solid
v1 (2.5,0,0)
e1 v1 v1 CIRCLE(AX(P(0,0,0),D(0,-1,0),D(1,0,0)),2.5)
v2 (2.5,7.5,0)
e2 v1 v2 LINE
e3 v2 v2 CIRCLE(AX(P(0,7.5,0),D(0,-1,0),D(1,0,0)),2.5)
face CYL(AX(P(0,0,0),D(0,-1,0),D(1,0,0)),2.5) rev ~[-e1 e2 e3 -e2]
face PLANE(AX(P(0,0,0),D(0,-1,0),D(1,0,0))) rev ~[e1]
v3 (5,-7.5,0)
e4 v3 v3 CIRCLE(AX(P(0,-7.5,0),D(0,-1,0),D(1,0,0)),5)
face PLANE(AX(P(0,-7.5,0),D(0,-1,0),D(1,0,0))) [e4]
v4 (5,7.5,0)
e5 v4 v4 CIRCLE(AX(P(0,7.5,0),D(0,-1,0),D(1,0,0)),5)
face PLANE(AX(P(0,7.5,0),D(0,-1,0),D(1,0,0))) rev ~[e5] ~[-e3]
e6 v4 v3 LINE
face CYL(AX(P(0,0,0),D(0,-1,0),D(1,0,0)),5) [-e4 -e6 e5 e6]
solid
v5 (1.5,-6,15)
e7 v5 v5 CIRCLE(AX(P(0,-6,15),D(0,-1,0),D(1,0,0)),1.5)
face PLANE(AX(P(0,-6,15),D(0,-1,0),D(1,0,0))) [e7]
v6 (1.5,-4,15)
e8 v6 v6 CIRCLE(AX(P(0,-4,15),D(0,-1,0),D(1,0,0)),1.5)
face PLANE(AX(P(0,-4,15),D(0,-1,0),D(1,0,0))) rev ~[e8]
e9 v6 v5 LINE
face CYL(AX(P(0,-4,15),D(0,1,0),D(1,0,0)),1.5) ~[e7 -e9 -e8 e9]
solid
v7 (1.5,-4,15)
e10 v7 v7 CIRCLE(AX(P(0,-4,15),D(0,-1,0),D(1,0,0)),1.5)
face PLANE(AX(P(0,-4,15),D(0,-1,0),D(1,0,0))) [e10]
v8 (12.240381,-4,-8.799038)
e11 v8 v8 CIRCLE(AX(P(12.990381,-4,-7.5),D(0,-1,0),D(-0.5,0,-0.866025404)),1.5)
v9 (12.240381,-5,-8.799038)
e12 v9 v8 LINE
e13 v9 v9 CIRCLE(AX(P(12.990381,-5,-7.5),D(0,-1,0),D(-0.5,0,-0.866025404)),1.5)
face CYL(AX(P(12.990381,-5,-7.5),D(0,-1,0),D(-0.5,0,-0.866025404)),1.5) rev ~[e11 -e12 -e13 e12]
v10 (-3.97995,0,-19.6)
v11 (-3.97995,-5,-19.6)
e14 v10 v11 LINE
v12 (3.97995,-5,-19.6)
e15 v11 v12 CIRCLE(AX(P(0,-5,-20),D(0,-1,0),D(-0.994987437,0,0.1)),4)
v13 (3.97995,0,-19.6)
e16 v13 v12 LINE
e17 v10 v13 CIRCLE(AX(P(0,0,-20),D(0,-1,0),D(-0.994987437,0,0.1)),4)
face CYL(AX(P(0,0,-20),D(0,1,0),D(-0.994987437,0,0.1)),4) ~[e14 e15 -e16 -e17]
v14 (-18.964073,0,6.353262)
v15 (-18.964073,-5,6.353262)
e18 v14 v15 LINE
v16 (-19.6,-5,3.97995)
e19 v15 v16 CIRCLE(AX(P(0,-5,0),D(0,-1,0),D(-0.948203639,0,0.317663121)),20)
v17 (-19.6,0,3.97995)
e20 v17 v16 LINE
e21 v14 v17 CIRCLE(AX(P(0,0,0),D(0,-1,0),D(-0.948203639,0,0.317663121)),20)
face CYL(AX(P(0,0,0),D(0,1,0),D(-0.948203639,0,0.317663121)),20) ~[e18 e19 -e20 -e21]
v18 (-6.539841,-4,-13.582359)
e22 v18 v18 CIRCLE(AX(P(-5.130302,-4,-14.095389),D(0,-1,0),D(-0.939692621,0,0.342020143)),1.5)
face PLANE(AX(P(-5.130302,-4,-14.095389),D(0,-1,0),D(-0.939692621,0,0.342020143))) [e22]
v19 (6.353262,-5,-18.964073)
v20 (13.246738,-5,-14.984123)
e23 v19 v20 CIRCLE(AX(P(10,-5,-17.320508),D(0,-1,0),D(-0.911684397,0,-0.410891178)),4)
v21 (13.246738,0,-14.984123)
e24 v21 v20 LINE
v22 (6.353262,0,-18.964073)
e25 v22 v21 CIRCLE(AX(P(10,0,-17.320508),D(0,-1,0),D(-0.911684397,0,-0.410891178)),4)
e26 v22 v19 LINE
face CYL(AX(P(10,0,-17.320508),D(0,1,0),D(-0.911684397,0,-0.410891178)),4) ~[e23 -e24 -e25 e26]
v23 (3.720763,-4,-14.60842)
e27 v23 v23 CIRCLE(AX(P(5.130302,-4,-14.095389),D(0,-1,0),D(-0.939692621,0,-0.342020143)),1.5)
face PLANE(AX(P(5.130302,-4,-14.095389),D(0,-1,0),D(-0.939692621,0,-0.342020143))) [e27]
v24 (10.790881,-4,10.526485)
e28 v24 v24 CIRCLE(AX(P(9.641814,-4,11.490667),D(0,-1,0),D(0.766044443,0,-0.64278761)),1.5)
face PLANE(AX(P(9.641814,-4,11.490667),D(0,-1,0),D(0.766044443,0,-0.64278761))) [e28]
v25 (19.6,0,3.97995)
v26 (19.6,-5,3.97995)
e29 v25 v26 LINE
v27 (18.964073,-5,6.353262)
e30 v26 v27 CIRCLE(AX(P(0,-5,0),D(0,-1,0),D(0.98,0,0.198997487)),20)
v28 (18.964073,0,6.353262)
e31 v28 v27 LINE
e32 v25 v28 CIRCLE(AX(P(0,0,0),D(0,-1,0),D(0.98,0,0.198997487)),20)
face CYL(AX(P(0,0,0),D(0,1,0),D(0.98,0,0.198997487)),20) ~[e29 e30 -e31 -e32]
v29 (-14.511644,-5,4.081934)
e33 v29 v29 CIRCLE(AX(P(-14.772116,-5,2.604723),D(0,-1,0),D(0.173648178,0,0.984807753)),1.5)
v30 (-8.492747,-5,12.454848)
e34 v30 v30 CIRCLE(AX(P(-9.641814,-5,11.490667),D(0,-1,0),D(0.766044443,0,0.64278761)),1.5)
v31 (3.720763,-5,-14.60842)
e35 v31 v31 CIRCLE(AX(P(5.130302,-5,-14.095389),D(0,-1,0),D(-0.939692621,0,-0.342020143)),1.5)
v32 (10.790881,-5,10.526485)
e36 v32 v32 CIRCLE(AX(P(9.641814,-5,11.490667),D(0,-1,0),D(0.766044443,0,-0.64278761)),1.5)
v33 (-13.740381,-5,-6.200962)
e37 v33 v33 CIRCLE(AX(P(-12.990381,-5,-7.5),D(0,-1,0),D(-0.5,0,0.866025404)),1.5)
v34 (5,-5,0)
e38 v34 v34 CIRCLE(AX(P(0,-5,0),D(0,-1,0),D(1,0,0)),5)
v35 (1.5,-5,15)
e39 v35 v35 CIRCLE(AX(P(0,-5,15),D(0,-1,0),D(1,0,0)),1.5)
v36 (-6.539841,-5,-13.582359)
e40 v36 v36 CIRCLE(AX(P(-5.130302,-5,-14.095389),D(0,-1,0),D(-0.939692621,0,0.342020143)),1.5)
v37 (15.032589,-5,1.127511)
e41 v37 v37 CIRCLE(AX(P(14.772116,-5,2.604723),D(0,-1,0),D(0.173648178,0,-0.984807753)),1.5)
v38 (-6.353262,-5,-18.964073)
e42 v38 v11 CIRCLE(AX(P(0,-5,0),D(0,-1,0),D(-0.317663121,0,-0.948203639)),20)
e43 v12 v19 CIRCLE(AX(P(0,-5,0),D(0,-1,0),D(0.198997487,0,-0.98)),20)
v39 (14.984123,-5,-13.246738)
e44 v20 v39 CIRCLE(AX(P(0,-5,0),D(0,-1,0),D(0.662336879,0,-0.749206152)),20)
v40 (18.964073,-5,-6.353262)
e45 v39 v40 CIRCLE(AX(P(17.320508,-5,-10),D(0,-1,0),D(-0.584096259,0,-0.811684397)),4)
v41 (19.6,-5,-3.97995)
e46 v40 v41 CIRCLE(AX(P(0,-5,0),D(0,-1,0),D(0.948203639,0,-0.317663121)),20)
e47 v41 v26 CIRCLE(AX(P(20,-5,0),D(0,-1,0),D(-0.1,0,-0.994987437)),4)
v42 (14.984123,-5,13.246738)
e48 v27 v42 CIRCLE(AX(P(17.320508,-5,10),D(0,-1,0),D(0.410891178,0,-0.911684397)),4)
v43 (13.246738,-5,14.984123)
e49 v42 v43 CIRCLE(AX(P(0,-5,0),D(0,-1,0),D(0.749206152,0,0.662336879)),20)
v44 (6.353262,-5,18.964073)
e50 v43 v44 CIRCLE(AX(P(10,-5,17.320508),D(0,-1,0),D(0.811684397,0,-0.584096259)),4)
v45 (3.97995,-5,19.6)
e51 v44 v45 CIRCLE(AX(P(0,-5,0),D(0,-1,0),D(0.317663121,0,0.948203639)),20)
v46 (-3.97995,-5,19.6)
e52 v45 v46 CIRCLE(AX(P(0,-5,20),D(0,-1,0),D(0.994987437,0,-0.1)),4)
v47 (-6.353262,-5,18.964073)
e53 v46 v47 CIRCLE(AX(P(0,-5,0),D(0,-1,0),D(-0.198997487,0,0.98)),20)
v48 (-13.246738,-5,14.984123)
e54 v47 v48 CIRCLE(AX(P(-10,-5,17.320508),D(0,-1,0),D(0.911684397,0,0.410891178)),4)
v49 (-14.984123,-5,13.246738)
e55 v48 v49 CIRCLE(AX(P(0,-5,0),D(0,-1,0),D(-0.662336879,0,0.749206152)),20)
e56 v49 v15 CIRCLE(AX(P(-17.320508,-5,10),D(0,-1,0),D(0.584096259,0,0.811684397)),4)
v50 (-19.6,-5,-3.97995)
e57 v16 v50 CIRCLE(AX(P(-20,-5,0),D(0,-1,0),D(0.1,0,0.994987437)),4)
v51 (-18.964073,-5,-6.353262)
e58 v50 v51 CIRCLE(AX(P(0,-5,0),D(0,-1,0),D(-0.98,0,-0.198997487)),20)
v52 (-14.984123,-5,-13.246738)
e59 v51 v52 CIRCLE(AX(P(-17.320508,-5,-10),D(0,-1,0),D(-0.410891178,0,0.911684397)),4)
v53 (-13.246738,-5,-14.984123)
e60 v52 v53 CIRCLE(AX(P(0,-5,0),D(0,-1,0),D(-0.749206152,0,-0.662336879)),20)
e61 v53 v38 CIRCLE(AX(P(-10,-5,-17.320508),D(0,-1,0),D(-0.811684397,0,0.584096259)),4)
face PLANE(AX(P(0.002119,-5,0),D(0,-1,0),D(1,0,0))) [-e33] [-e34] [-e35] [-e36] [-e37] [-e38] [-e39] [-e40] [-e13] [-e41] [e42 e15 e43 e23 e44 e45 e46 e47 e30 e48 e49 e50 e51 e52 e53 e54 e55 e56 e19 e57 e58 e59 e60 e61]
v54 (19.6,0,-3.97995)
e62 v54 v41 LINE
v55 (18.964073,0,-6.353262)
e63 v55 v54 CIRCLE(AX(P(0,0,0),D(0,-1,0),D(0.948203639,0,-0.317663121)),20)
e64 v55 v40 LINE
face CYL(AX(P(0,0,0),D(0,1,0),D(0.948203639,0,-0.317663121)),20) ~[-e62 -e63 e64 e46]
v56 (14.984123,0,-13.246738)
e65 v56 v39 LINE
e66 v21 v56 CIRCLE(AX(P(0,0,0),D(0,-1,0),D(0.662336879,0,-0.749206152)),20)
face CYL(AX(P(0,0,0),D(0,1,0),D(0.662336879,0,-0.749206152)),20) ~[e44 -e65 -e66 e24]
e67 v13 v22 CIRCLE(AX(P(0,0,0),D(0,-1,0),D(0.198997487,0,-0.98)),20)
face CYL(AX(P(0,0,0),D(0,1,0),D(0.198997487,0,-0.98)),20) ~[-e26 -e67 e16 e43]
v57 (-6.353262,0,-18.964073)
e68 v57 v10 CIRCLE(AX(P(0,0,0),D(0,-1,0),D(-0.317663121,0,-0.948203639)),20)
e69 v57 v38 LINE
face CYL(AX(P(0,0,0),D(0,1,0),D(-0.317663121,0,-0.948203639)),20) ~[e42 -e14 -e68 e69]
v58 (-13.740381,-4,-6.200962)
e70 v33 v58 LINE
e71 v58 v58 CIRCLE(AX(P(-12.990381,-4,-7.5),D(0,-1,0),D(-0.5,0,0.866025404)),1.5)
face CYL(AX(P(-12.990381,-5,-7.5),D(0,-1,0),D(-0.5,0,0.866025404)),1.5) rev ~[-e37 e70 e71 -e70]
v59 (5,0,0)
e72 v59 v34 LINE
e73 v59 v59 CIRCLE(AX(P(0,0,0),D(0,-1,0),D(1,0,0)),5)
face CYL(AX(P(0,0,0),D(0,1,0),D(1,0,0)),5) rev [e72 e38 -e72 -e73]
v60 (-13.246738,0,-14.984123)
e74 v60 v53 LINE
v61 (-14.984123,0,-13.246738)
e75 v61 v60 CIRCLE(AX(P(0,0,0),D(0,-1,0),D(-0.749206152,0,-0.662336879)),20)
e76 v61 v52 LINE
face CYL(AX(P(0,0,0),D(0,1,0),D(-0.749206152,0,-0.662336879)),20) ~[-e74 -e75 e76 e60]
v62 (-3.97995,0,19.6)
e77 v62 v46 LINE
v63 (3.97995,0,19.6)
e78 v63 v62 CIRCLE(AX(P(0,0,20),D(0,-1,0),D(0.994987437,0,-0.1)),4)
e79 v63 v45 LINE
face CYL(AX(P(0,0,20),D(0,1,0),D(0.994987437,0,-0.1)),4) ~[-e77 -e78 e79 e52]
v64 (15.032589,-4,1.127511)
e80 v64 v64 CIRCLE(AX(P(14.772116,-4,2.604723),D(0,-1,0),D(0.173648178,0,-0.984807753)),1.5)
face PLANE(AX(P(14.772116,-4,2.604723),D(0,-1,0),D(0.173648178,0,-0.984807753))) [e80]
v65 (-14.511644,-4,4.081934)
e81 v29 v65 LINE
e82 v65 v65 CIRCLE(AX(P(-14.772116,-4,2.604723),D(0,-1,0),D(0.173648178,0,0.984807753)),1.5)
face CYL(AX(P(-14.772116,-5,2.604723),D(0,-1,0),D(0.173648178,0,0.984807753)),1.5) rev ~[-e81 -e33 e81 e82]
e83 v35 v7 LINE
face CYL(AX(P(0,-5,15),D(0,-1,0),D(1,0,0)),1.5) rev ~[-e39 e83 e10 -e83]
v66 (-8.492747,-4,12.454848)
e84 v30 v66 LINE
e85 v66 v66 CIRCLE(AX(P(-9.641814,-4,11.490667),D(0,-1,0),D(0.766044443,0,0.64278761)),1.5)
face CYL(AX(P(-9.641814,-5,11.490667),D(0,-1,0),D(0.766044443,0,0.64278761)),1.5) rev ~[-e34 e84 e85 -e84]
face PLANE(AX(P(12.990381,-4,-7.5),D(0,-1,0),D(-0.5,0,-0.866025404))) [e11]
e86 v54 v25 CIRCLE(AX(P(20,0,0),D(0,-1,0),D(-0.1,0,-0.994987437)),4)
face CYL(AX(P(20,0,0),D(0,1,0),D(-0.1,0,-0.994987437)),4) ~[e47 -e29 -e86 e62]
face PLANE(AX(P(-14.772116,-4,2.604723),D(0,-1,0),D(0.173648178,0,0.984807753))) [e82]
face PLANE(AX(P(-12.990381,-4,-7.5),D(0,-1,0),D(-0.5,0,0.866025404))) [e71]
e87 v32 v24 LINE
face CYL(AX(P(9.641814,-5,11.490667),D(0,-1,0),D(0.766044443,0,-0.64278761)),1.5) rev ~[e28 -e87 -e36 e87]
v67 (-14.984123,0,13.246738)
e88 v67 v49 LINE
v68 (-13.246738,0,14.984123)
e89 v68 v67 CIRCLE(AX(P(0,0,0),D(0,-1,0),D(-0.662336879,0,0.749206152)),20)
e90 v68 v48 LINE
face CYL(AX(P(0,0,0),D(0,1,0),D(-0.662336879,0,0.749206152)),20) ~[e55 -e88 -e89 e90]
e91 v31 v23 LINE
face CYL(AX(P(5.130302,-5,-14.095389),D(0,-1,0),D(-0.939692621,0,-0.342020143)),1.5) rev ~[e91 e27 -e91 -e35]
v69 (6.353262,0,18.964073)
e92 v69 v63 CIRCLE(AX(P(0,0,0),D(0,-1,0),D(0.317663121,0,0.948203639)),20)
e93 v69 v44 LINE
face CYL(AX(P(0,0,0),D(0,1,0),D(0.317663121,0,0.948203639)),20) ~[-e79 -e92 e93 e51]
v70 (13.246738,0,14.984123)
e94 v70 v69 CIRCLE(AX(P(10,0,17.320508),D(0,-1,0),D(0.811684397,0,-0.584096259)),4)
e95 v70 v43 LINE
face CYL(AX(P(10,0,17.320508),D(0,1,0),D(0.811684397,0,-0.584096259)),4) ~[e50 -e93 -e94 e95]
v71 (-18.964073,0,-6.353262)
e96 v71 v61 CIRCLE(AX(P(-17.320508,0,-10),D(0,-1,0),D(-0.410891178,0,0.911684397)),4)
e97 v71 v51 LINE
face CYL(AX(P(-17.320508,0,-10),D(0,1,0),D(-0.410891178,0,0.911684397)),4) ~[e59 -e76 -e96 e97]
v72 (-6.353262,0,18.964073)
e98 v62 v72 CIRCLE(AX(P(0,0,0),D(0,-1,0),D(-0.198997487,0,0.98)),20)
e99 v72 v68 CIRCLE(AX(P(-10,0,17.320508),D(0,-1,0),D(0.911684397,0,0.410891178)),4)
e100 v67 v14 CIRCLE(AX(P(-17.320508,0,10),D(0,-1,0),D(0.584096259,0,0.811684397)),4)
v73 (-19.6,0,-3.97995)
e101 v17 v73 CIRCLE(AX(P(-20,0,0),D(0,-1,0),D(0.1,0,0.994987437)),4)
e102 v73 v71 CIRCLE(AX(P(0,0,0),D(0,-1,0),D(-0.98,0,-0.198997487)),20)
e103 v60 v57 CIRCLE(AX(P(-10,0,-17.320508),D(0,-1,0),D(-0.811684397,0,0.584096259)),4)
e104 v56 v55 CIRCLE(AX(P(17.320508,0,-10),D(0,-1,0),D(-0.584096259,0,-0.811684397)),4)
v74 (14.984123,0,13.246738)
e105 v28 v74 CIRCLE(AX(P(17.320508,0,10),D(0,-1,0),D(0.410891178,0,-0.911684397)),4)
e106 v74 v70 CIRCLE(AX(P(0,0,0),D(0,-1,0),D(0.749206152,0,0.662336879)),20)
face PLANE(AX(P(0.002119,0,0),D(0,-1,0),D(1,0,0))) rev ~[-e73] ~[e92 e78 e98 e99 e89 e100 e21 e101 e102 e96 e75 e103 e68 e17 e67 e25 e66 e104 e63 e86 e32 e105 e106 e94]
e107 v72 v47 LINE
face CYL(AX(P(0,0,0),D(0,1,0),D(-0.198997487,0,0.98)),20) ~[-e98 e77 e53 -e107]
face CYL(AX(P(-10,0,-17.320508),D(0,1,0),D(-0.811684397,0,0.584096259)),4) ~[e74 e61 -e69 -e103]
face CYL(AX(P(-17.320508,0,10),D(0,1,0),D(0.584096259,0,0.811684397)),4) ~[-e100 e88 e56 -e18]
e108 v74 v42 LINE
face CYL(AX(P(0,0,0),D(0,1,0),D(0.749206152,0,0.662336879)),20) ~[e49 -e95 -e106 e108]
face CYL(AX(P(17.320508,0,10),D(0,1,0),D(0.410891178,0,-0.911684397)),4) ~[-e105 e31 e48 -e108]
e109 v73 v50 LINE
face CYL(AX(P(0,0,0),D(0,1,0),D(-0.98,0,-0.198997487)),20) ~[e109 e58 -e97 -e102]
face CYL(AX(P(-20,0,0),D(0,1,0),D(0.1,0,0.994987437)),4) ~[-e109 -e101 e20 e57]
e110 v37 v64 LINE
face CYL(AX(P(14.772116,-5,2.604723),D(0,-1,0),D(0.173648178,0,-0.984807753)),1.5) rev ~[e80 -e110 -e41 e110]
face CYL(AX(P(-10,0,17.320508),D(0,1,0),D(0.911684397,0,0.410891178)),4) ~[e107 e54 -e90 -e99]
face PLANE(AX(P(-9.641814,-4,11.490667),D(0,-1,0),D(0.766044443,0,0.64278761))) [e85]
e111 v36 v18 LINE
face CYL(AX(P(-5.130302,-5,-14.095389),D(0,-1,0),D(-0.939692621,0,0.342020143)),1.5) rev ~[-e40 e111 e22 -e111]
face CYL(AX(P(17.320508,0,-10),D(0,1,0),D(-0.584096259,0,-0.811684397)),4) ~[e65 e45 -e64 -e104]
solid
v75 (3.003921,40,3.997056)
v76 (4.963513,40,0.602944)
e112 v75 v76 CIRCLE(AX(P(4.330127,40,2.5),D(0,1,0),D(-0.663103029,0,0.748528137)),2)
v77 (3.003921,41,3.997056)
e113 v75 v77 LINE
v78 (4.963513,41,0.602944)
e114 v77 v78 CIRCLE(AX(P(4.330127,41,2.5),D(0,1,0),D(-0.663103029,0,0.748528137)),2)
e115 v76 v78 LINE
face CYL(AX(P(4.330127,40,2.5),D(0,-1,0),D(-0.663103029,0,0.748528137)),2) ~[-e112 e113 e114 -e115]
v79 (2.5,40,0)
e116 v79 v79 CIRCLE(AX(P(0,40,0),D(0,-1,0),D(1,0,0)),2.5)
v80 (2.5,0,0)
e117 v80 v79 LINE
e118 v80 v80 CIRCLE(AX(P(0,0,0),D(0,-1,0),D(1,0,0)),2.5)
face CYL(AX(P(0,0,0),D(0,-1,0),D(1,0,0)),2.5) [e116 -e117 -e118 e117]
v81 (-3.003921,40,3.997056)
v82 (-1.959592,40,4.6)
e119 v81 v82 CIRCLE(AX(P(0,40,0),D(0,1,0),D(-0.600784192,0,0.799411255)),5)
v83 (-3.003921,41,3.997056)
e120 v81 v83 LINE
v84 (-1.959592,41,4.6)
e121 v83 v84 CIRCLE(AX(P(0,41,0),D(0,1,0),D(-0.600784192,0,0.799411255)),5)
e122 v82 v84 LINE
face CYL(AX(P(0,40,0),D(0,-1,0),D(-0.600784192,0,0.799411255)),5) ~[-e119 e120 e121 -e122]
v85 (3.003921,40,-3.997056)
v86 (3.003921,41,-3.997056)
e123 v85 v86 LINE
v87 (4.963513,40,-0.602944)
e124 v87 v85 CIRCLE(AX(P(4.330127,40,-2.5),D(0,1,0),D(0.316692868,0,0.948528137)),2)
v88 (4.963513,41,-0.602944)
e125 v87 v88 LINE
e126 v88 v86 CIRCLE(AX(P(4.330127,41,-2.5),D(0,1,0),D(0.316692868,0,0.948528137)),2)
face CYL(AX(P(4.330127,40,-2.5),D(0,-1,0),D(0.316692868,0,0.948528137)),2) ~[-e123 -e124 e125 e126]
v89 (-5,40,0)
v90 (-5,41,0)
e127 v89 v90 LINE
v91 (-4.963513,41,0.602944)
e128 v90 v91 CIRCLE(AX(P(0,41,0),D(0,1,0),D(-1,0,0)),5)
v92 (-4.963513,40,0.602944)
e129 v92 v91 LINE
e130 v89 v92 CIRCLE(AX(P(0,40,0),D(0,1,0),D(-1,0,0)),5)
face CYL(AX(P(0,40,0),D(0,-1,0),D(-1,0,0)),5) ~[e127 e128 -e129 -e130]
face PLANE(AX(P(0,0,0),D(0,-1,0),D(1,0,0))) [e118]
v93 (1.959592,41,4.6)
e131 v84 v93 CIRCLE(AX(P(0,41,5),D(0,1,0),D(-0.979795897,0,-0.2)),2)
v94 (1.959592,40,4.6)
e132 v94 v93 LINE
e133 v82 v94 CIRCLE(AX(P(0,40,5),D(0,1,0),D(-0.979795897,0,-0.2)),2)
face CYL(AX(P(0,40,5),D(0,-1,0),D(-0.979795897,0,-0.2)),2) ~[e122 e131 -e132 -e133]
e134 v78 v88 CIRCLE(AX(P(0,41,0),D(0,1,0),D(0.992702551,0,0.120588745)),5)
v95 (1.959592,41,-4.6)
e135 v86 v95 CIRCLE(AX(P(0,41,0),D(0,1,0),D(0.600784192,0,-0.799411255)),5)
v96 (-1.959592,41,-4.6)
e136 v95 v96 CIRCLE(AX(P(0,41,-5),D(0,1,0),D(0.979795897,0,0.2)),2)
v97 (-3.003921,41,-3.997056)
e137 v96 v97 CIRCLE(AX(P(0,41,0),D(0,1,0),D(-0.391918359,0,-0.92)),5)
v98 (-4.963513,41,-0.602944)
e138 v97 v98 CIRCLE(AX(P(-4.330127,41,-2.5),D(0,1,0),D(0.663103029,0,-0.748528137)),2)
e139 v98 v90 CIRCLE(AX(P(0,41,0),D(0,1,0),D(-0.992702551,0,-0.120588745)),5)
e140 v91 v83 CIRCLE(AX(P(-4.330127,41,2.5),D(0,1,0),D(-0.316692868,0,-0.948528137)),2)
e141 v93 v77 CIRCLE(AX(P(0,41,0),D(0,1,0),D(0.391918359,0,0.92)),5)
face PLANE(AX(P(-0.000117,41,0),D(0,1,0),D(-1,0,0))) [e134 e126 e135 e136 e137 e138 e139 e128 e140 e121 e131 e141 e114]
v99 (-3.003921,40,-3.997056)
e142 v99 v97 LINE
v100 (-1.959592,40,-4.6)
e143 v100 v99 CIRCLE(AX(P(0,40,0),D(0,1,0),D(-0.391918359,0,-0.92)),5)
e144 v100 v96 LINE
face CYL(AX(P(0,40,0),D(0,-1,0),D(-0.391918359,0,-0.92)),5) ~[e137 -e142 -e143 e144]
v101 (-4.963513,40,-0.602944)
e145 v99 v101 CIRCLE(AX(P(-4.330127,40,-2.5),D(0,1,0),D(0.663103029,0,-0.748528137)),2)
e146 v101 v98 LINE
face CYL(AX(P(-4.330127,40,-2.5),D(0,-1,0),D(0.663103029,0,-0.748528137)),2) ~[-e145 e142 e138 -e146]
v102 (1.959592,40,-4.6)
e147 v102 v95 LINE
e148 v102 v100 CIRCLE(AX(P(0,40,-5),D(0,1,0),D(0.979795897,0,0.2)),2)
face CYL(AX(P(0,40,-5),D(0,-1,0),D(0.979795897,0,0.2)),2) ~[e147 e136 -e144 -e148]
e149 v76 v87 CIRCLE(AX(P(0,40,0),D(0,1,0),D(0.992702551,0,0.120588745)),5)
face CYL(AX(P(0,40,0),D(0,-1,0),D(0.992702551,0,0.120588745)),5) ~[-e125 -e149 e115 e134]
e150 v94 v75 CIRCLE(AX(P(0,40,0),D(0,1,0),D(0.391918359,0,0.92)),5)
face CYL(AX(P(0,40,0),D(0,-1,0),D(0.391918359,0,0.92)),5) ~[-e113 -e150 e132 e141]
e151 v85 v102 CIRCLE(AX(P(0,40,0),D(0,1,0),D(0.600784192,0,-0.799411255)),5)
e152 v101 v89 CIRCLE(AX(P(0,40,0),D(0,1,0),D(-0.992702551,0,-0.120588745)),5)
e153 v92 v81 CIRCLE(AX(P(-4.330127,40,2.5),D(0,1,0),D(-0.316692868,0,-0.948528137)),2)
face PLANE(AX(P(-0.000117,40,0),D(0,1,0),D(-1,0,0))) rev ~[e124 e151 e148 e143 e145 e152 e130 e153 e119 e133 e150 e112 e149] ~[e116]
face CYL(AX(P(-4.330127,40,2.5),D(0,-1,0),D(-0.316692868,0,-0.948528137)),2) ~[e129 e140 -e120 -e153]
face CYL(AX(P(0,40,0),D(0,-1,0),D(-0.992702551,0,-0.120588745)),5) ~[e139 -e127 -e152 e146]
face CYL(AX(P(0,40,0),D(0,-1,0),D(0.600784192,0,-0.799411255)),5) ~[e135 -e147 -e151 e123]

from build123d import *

# Parameters (mm, degrees)
F0_R      = 5
F1_DEPTH  = 5
F2_R      = 1.5
F3_DEPTH  = 1
F4_COUNT  = 9
F6_R      = 1.5
F7_DEPTH  = 2
F8_R      = 5
F9_DEPTH  = 7.5
F10_R     = 2.5
F11_DEPTH = 40
F13_DEPTH = 1


with BuildPart() as f1:
    # F0 (on Front) → F1 (new body)
    with BuildSketch(Plane.XZ):
        with BuildLine():
            ThreePointArc((19.6, -3.9799497484), (19.8997487421, -2), (20, 0))
            ThreePointArc((20, 0), (19.8997487421, 2), (19.6, 3.9799497484))
            ThreePointArc((19.6, 3.9799497484), (19.3185165258, 5.1763809021), (18.9640727884, 6.3532624121))
            ThreePointArc((18.9640727884, 6.3532624121), (17.3205080757, 10), (14.98412304, 13.2467375879))
            ThreePointArc((14.98412304, 13.2467375879), (14.1421356237, 14.1421356237), (13.2467375879, 14.98412304))
            ThreePointArc((13.2467375879, 14.98412304), (10, 17.3205080757), (6.3532624121, 18.9640727884))
            ThreePointArc((6.3532624121, 18.9640727884), (5.1763809021, 19.3185165258), (3.9799497484, 19.6))
            ThreePointArc((3.9799497484, 19.6), (0, 20), (-3.9799497484, 19.6))
            ThreePointArc((-3.9799497484, 19.6), (-5.1763809021, 19.3185165258), (-6.3532624121, 18.9640727884))
            ThreePointArc((-6.3532624121, 18.9640727884), (-10, 17.3205080757), (-13.2467375879, 14.98412304))
            ThreePointArc((-13.2467375879, 14.98412304), (-14.1421356237, 14.1421356237), (-14.98412304, 13.2467375879))
            ThreePointArc((-14.98412304, 13.2467375879), (-17.3205080757, 10), (-18.9640727884, 6.3532624121))
            ThreePointArc((-18.9640727884, 6.3532624121), (-19.3185165258, 5.1763809021), (-19.6, 3.9799497484))
            ThreePointArc((-19.6, 3.9799497484), (-20, 0), (-19.6, -3.9799497484))
            ThreePointArc((-19.6, -3.9799497484), (-19.3185165258, -5.1763809021), (-18.9640727884, -6.3532624121))
            ThreePointArc((-18.9640727884, -6.3532624121), (-17.3205080757, -10), (-14.98412304, -13.2467375879))
            ThreePointArc((-14.98412304, -13.2467375879), (-14.1421356237, -14.1421356237), (-13.2467375879, -14.98412304))
            ThreePointArc((-13.2467375879, -14.98412304), (-10, -17.3205080757), (-6.3532624121, -18.9640727884))
            ThreePointArc((-6.3532624121, -18.9640727884), (-5.1763809021, -19.3185165258), (-3.9799497484, -19.6))
            ThreePointArc((-3.9799497484, -19.6), (0, -20), (3.9799497484, -19.6))
            ThreePointArc((3.9799497484, -19.6), (5.1763809021, -19.3185165258), (6.3532624121, -18.9640727884))
            ThreePointArc((6.3532624121, -18.9640727884), (10, -17.3205080757), (13.2467375879, -14.98412304))
            ThreePointArc((13.2467375879, -14.98412304), (14.1421356237, -14.1421356237), (14.98412304, -13.2467375879))
            ThreePointArc((14.98412304, -13.2467375879), (17.3205080757, -10), (18.9640727884, -6.3532624121))
            ThreePointArc((18.9640727884, -6.3532624121), (19.3185165258, -5.1763809021), (19.6, -3.9799497484))
        make_face()
        Circle(F0_R, mode=Mode.SUBTRACT)
        with BuildLine():
            ThreePointArc((19.6, 3.9799497484), (19.8997487421, 2), (20, 0))
            ThreePointArc((20, 0), (19.8997487421, -2), (19.6, -3.9799497484))
            ThreePointArc((19.6, -3.9799497484), (24, 0), (19.6, 3.9799497484))
        make_face()
        with BuildLine():
            ThreePointArc((14.98412304, 13.2467375879), (17.3205080757, 10), (18.9640727884, 6.3532624121))
            ThreePointArc((18.9640727884, 6.3532624121), (20.7846096908, 12), (14.98412304, 13.2467375879))
        make_face()
        with BuildLine():
            ThreePointArc((14.98412304, -13.2467375879), (20.7846096908, -12), (18.9640727884, -6.3532624121))
            ThreePointArc((18.9640727884, -6.3532624121), (17.3205080757, -10), (14.98412304, -13.2467375879))
        make_face()
        with BuildLine():
            ThreePointArc((6.3532624121, 18.9640727884), (10, 17.3205080757), (13.2467375879, 14.98412304))
            ThreePointArc((13.2467375879, 14.98412304), (12, 20.7846096908), (6.3532624121, 18.9640727884))
        make_face()
        with BuildLine():
            ThreePointArc((6.3532624121, -18.9640727884), (12, -20.7846096908), (13.2467375879, -14.98412304))
            ThreePointArc((13.2467375879, -14.98412304), (10, -17.3205080757), (6.3532624121, -18.9640727884))
        make_face()
        with BuildLine():
            ThreePointArc((-3.9799497484, 19.6), (0, 20), (3.9799497484, 19.6))
            ThreePointArc((3.9799497484, 19.6), (0, 24), (-3.9799497484, 19.6))
        make_face()
        with BuildLine():
            ThreePointArc((-3.9799497484, -19.6), (0, -24), (3.9799497484, -19.6))
            ThreePointArc((3.9799497484, -19.6), (0, -20), (-3.9799497484, -19.6))
        make_face()
        with BuildLine():
            ThreePointArc((-13.2467375879, 14.98412304), (-10, 17.3205080757), (-6.3532624121, 18.9640727884))
            ThreePointArc((-6.3532624121, 18.9640727884), (-12, 20.7846096908), (-13.2467375879, 14.98412304))
        make_face()
        with BuildLine():
            ThreePointArc((-13.2467375879, -14.98412304), (-12, -20.7846096908), (-6.3532624121, -18.9640727884))
            ThreePointArc((-6.3532624121, -18.9640727884), (-10, -17.3205080757), (-13.2467375879, -14.98412304))
        make_face()
        with BuildLine():
            ThreePointArc((-18.9640727884, 6.3532624121), (-17.3205080757, 10), (-14.98412304, 13.2467375879))
            ThreePointArc((-14.98412304, 13.2467375879), (-20.7846096908, 12), (-18.9640727884, 6.3532624121))
        make_face()
        with BuildLine():
            ThreePointArc((-18.9640727884, -6.3532624121), (-20.7846096908, -12), (-14.98412304, -13.2467375879))
            ThreePointArc((-14.98412304, -13.2467375879), (-17.3205080757, -10), (-18.9640727884, -6.3532624121))
        make_face()
        with BuildLine():
            ThreePointArc((-19.6, -3.9799497484), (-20, 0), (-19.6, 3.9799497484))
            ThreePointArc((-19.6, 3.9799497484), (-24, 0), (-19.6, -3.9799497484))
        make_face()
    extrude(amount=F1_DEPTH)


with BuildPart() as f3:
    # F2 (on face) → F3 (new body)
    with BuildSketch(Plane.XZ.offset(5)):
        with Locations((0, 15)):
            Circle(F2_R)
    extrude(amount=-F3_DEPTH)


with BuildPart() as f4_1:
    # F4: instance of F3
    add(f3.part.rotate(Axis((0, -5, 0), (0, -1, 0)), 1 * 360 / F4_COUNT))


with BuildPart() as f4_2:
    # F4: instance of F3
    add(f3.part.rotate(Axis((0, -5, 0), (0, -1, 0)), 2 * 360 / F4_COUNT))


with BuildPart() as f4_3:
    # F4: instance of F3
    add(f3.part.rotate(Axis((0, -5, 0), (0, -1, 0)), 3 * 360 / F4_COUNT))


with BuildPart() as f4_4:
    # F4: instance of F3
    add(f3.part.rotate(Axis((0, -5, 0), (0, -1, 0)), 4 * 360 / F4_COUNT))


with BuildPart() as f4_5:
    # F4: instance of F3
    add(f3.part.rotate(Axis((0, -5, 0), (0, -1, 0)), 5 * 360 / F4_COUNT))


with BuildPart() as f4_6:
    # F4: instance of F3
    add(f3.part.rotate(Axis((0, -5, 0), (0, -1, 0)), 6 * 360 / F4_COUNT))


with BuildPart() as f4_7:
    # F4: instance of F3
    add(f3.part.rotate(Axis((0, -5, 0), (0, -1, 0)), 7 * 360 / F4_COUNT))


with BuildPart() as f4_8:
    # F4: instance of F3
    add(f3.part.rotate(Axis((0, -5, 0), (0, -1, 0)), 8 * 360 / F4_COUNT))


with BuildPart() as f1_1:
    add(f1.part)

    # F5: cut F3, F4_1, F4_2, F4_3, F4_4, F4_5, F4_6, F4_7, F4_8
    add(f3.part, mode=Mode.SUBTRACT)
    add(f4_1.part, mode=Mode.SUBTRACT)
    add(f4_2.part, mode=Mode.SUBTRACT)
    add(f4_3.part, mode=Mode.SUBTRACT)
    add(f4_4.part, mode=Mode.SUBTRACT)
    add(f4_5.part, mode=Mode.SUBTRACT)
    add(f4_6.part, mode=Mode.SUBTRACT)
    add(f4_7.part, mode=Mode.SUBTRACT)
    add(f4_8.part, mode=Mode.SUBTRACT)


with BuildPart() as f7:
    # F6 (on face) → F7 (new body)
    with BuildSketch(Plane.XZ.offset(4)):
        with Locations((0, 15)):
            Circle(F6_R)
    extrude(amount=F7_DEPTH)


with BuildPart() as f9:
    # F8 (on Front) → F9 (new body, symmetric)
    with BuildSketch(Plane.XZ):
        Circle(F8_R)
    extrude(amount=F9_DEPTH, both=True)


with BuildPart() as f11:
    # F10 (on Front) → F11 (new body)
    with BuildSketch(Plane.XZ):
        Circle(F10_R)
    extrude(amount=-F11_DEPTH)

    # F12 (on face) → F13 (join)
    with BuildSketch(Plane(origin=(0, 40, 0), x_dir=(-1, 0, 0), z_dir=(0, 1, 0))):
        with BuildLine():
            ThreePointArc((4.9635127545, -0.6029437252), (4.9908698527, -0.3020233661), (5, 0))
            ThreePointArc((5, 0), (4.9908698527, 0.3020233661), (4.9635127545, 0.6029437252))
            ThreePointArc((4.9635127545, 0.6029437252), (4.3301270189, 2.5), (3.0039209603, 3.9970562748))
            ThreePointArc((3.0039209603, 3.9970562748), (2.5, 4.3301270189), (1.9595917942, 4.6))
            ThreePointArc((1.9595917942, 4.6), (0, 5), (-1.9595917942, 4.6))
            ThreePointArc((-1.9595917942, 4.6), (-2.5, 4.3301270189), (-3.0039209603, 3.9970562748))
            ThreePointArc((-3.0039209603, 3.9970562748), (-4.3301270189, 2.5), (-4.9635127545, 0.6029437252))
            ThreePointArc((-4.9635127545, 0.6029437252), (-5, 0), (-4.9635127545, -0.6029437252))
            ThreePointArc((-4.9635127545, -0.6029437252), (-4.3301270189, -2.5), (-3.0039209603, -3.9970562748))
            ThreePointArc((-3.0039209603, -3.9970562748), (-2.5, -4.3301270189), (-1.9595917942, -4.6))
            ThreePointArc((-1.9595917942, -4.6), (0, -5), (1.9595917942, -4.6))
            ThreePointArc((1.9595917942, -4.6), (2.5, -4.3301270189), (3.0039209603, -3.9970562748))
            ThreePointArc((3.0039209603, -3.9970562748), (4.3301270189, -2.5), (4.9635127545, -0.6029437252))
        make_face()
        with BuildLine():
            ThreePointArc((3.0039209603, 3.9970562748), (4.3301270189, 2.5), (4.9635127545, 0.6029437252))
            ThreePointArc((4.9635127545, 0.6029437252), (6.0621778265, 3.5), (3.0039209603, 3.9970562748))
        make_face()
        with BuildLine():
            ThreePointArc((3.0039209603, -3.9970562748), (6.0621778265, -3.5), (4.9635127545, -0.6029437252))
            ThreePointArc((4.9635127545, -0.6029437252), (4.3301270189, -2.5), (3.0039209603, -3.9970562748))
        make_face()
        with BuildLine():
            ThreePointArc((-1.9595917942, 4.6), (0, 5), (1.9595917942, 4.6))
            ThreePointArc((1.9595917942, 4.6), (0, 7), (-1.9595917942, 4.6))
        make_face()
        with BuildLine():
            ThreePointArc((-1.9595917942, -4.6), (0, -7), (1.9595917942, -4.6))
            ThreePointArc((1.9595917942, -4.6), (0, -5), (-1.9595917942, -4.6))
        make_face()
        with BuildLine():
            ThreePointArc((-4.9635127545, 0.6029437252), (-4.3301270189, 2.5), (-3.0039209603, 3.9970562748))
            ThreePointArc((-3.0039209603, 3.9970562748), (-6.0621778265, 3.5), (-4.9635127545, 0.6029437252))
        make_face()
        with BuildLine():
            ThreePointArc((-4.9635127545, -0.6029437252), (-6.0621778265, -3.5), (-3.0039209603, -3.9970562748))
            ThreePointArc((-3.0039209603, -3.9970562748), (-4.3301270189, -2.5), (-4.9635127545, -0.6029437252))
        make_face()
    extrude(amount=F13_DEPTH)


with BuildPart() as f9_1:
    add(f9.part)

    # F14: cut F11
    add(f11.part, mode=Mode.SUBTRACT)


solid = Compound([f1_1.part, f7.part, f11.part, f9_1.part])
